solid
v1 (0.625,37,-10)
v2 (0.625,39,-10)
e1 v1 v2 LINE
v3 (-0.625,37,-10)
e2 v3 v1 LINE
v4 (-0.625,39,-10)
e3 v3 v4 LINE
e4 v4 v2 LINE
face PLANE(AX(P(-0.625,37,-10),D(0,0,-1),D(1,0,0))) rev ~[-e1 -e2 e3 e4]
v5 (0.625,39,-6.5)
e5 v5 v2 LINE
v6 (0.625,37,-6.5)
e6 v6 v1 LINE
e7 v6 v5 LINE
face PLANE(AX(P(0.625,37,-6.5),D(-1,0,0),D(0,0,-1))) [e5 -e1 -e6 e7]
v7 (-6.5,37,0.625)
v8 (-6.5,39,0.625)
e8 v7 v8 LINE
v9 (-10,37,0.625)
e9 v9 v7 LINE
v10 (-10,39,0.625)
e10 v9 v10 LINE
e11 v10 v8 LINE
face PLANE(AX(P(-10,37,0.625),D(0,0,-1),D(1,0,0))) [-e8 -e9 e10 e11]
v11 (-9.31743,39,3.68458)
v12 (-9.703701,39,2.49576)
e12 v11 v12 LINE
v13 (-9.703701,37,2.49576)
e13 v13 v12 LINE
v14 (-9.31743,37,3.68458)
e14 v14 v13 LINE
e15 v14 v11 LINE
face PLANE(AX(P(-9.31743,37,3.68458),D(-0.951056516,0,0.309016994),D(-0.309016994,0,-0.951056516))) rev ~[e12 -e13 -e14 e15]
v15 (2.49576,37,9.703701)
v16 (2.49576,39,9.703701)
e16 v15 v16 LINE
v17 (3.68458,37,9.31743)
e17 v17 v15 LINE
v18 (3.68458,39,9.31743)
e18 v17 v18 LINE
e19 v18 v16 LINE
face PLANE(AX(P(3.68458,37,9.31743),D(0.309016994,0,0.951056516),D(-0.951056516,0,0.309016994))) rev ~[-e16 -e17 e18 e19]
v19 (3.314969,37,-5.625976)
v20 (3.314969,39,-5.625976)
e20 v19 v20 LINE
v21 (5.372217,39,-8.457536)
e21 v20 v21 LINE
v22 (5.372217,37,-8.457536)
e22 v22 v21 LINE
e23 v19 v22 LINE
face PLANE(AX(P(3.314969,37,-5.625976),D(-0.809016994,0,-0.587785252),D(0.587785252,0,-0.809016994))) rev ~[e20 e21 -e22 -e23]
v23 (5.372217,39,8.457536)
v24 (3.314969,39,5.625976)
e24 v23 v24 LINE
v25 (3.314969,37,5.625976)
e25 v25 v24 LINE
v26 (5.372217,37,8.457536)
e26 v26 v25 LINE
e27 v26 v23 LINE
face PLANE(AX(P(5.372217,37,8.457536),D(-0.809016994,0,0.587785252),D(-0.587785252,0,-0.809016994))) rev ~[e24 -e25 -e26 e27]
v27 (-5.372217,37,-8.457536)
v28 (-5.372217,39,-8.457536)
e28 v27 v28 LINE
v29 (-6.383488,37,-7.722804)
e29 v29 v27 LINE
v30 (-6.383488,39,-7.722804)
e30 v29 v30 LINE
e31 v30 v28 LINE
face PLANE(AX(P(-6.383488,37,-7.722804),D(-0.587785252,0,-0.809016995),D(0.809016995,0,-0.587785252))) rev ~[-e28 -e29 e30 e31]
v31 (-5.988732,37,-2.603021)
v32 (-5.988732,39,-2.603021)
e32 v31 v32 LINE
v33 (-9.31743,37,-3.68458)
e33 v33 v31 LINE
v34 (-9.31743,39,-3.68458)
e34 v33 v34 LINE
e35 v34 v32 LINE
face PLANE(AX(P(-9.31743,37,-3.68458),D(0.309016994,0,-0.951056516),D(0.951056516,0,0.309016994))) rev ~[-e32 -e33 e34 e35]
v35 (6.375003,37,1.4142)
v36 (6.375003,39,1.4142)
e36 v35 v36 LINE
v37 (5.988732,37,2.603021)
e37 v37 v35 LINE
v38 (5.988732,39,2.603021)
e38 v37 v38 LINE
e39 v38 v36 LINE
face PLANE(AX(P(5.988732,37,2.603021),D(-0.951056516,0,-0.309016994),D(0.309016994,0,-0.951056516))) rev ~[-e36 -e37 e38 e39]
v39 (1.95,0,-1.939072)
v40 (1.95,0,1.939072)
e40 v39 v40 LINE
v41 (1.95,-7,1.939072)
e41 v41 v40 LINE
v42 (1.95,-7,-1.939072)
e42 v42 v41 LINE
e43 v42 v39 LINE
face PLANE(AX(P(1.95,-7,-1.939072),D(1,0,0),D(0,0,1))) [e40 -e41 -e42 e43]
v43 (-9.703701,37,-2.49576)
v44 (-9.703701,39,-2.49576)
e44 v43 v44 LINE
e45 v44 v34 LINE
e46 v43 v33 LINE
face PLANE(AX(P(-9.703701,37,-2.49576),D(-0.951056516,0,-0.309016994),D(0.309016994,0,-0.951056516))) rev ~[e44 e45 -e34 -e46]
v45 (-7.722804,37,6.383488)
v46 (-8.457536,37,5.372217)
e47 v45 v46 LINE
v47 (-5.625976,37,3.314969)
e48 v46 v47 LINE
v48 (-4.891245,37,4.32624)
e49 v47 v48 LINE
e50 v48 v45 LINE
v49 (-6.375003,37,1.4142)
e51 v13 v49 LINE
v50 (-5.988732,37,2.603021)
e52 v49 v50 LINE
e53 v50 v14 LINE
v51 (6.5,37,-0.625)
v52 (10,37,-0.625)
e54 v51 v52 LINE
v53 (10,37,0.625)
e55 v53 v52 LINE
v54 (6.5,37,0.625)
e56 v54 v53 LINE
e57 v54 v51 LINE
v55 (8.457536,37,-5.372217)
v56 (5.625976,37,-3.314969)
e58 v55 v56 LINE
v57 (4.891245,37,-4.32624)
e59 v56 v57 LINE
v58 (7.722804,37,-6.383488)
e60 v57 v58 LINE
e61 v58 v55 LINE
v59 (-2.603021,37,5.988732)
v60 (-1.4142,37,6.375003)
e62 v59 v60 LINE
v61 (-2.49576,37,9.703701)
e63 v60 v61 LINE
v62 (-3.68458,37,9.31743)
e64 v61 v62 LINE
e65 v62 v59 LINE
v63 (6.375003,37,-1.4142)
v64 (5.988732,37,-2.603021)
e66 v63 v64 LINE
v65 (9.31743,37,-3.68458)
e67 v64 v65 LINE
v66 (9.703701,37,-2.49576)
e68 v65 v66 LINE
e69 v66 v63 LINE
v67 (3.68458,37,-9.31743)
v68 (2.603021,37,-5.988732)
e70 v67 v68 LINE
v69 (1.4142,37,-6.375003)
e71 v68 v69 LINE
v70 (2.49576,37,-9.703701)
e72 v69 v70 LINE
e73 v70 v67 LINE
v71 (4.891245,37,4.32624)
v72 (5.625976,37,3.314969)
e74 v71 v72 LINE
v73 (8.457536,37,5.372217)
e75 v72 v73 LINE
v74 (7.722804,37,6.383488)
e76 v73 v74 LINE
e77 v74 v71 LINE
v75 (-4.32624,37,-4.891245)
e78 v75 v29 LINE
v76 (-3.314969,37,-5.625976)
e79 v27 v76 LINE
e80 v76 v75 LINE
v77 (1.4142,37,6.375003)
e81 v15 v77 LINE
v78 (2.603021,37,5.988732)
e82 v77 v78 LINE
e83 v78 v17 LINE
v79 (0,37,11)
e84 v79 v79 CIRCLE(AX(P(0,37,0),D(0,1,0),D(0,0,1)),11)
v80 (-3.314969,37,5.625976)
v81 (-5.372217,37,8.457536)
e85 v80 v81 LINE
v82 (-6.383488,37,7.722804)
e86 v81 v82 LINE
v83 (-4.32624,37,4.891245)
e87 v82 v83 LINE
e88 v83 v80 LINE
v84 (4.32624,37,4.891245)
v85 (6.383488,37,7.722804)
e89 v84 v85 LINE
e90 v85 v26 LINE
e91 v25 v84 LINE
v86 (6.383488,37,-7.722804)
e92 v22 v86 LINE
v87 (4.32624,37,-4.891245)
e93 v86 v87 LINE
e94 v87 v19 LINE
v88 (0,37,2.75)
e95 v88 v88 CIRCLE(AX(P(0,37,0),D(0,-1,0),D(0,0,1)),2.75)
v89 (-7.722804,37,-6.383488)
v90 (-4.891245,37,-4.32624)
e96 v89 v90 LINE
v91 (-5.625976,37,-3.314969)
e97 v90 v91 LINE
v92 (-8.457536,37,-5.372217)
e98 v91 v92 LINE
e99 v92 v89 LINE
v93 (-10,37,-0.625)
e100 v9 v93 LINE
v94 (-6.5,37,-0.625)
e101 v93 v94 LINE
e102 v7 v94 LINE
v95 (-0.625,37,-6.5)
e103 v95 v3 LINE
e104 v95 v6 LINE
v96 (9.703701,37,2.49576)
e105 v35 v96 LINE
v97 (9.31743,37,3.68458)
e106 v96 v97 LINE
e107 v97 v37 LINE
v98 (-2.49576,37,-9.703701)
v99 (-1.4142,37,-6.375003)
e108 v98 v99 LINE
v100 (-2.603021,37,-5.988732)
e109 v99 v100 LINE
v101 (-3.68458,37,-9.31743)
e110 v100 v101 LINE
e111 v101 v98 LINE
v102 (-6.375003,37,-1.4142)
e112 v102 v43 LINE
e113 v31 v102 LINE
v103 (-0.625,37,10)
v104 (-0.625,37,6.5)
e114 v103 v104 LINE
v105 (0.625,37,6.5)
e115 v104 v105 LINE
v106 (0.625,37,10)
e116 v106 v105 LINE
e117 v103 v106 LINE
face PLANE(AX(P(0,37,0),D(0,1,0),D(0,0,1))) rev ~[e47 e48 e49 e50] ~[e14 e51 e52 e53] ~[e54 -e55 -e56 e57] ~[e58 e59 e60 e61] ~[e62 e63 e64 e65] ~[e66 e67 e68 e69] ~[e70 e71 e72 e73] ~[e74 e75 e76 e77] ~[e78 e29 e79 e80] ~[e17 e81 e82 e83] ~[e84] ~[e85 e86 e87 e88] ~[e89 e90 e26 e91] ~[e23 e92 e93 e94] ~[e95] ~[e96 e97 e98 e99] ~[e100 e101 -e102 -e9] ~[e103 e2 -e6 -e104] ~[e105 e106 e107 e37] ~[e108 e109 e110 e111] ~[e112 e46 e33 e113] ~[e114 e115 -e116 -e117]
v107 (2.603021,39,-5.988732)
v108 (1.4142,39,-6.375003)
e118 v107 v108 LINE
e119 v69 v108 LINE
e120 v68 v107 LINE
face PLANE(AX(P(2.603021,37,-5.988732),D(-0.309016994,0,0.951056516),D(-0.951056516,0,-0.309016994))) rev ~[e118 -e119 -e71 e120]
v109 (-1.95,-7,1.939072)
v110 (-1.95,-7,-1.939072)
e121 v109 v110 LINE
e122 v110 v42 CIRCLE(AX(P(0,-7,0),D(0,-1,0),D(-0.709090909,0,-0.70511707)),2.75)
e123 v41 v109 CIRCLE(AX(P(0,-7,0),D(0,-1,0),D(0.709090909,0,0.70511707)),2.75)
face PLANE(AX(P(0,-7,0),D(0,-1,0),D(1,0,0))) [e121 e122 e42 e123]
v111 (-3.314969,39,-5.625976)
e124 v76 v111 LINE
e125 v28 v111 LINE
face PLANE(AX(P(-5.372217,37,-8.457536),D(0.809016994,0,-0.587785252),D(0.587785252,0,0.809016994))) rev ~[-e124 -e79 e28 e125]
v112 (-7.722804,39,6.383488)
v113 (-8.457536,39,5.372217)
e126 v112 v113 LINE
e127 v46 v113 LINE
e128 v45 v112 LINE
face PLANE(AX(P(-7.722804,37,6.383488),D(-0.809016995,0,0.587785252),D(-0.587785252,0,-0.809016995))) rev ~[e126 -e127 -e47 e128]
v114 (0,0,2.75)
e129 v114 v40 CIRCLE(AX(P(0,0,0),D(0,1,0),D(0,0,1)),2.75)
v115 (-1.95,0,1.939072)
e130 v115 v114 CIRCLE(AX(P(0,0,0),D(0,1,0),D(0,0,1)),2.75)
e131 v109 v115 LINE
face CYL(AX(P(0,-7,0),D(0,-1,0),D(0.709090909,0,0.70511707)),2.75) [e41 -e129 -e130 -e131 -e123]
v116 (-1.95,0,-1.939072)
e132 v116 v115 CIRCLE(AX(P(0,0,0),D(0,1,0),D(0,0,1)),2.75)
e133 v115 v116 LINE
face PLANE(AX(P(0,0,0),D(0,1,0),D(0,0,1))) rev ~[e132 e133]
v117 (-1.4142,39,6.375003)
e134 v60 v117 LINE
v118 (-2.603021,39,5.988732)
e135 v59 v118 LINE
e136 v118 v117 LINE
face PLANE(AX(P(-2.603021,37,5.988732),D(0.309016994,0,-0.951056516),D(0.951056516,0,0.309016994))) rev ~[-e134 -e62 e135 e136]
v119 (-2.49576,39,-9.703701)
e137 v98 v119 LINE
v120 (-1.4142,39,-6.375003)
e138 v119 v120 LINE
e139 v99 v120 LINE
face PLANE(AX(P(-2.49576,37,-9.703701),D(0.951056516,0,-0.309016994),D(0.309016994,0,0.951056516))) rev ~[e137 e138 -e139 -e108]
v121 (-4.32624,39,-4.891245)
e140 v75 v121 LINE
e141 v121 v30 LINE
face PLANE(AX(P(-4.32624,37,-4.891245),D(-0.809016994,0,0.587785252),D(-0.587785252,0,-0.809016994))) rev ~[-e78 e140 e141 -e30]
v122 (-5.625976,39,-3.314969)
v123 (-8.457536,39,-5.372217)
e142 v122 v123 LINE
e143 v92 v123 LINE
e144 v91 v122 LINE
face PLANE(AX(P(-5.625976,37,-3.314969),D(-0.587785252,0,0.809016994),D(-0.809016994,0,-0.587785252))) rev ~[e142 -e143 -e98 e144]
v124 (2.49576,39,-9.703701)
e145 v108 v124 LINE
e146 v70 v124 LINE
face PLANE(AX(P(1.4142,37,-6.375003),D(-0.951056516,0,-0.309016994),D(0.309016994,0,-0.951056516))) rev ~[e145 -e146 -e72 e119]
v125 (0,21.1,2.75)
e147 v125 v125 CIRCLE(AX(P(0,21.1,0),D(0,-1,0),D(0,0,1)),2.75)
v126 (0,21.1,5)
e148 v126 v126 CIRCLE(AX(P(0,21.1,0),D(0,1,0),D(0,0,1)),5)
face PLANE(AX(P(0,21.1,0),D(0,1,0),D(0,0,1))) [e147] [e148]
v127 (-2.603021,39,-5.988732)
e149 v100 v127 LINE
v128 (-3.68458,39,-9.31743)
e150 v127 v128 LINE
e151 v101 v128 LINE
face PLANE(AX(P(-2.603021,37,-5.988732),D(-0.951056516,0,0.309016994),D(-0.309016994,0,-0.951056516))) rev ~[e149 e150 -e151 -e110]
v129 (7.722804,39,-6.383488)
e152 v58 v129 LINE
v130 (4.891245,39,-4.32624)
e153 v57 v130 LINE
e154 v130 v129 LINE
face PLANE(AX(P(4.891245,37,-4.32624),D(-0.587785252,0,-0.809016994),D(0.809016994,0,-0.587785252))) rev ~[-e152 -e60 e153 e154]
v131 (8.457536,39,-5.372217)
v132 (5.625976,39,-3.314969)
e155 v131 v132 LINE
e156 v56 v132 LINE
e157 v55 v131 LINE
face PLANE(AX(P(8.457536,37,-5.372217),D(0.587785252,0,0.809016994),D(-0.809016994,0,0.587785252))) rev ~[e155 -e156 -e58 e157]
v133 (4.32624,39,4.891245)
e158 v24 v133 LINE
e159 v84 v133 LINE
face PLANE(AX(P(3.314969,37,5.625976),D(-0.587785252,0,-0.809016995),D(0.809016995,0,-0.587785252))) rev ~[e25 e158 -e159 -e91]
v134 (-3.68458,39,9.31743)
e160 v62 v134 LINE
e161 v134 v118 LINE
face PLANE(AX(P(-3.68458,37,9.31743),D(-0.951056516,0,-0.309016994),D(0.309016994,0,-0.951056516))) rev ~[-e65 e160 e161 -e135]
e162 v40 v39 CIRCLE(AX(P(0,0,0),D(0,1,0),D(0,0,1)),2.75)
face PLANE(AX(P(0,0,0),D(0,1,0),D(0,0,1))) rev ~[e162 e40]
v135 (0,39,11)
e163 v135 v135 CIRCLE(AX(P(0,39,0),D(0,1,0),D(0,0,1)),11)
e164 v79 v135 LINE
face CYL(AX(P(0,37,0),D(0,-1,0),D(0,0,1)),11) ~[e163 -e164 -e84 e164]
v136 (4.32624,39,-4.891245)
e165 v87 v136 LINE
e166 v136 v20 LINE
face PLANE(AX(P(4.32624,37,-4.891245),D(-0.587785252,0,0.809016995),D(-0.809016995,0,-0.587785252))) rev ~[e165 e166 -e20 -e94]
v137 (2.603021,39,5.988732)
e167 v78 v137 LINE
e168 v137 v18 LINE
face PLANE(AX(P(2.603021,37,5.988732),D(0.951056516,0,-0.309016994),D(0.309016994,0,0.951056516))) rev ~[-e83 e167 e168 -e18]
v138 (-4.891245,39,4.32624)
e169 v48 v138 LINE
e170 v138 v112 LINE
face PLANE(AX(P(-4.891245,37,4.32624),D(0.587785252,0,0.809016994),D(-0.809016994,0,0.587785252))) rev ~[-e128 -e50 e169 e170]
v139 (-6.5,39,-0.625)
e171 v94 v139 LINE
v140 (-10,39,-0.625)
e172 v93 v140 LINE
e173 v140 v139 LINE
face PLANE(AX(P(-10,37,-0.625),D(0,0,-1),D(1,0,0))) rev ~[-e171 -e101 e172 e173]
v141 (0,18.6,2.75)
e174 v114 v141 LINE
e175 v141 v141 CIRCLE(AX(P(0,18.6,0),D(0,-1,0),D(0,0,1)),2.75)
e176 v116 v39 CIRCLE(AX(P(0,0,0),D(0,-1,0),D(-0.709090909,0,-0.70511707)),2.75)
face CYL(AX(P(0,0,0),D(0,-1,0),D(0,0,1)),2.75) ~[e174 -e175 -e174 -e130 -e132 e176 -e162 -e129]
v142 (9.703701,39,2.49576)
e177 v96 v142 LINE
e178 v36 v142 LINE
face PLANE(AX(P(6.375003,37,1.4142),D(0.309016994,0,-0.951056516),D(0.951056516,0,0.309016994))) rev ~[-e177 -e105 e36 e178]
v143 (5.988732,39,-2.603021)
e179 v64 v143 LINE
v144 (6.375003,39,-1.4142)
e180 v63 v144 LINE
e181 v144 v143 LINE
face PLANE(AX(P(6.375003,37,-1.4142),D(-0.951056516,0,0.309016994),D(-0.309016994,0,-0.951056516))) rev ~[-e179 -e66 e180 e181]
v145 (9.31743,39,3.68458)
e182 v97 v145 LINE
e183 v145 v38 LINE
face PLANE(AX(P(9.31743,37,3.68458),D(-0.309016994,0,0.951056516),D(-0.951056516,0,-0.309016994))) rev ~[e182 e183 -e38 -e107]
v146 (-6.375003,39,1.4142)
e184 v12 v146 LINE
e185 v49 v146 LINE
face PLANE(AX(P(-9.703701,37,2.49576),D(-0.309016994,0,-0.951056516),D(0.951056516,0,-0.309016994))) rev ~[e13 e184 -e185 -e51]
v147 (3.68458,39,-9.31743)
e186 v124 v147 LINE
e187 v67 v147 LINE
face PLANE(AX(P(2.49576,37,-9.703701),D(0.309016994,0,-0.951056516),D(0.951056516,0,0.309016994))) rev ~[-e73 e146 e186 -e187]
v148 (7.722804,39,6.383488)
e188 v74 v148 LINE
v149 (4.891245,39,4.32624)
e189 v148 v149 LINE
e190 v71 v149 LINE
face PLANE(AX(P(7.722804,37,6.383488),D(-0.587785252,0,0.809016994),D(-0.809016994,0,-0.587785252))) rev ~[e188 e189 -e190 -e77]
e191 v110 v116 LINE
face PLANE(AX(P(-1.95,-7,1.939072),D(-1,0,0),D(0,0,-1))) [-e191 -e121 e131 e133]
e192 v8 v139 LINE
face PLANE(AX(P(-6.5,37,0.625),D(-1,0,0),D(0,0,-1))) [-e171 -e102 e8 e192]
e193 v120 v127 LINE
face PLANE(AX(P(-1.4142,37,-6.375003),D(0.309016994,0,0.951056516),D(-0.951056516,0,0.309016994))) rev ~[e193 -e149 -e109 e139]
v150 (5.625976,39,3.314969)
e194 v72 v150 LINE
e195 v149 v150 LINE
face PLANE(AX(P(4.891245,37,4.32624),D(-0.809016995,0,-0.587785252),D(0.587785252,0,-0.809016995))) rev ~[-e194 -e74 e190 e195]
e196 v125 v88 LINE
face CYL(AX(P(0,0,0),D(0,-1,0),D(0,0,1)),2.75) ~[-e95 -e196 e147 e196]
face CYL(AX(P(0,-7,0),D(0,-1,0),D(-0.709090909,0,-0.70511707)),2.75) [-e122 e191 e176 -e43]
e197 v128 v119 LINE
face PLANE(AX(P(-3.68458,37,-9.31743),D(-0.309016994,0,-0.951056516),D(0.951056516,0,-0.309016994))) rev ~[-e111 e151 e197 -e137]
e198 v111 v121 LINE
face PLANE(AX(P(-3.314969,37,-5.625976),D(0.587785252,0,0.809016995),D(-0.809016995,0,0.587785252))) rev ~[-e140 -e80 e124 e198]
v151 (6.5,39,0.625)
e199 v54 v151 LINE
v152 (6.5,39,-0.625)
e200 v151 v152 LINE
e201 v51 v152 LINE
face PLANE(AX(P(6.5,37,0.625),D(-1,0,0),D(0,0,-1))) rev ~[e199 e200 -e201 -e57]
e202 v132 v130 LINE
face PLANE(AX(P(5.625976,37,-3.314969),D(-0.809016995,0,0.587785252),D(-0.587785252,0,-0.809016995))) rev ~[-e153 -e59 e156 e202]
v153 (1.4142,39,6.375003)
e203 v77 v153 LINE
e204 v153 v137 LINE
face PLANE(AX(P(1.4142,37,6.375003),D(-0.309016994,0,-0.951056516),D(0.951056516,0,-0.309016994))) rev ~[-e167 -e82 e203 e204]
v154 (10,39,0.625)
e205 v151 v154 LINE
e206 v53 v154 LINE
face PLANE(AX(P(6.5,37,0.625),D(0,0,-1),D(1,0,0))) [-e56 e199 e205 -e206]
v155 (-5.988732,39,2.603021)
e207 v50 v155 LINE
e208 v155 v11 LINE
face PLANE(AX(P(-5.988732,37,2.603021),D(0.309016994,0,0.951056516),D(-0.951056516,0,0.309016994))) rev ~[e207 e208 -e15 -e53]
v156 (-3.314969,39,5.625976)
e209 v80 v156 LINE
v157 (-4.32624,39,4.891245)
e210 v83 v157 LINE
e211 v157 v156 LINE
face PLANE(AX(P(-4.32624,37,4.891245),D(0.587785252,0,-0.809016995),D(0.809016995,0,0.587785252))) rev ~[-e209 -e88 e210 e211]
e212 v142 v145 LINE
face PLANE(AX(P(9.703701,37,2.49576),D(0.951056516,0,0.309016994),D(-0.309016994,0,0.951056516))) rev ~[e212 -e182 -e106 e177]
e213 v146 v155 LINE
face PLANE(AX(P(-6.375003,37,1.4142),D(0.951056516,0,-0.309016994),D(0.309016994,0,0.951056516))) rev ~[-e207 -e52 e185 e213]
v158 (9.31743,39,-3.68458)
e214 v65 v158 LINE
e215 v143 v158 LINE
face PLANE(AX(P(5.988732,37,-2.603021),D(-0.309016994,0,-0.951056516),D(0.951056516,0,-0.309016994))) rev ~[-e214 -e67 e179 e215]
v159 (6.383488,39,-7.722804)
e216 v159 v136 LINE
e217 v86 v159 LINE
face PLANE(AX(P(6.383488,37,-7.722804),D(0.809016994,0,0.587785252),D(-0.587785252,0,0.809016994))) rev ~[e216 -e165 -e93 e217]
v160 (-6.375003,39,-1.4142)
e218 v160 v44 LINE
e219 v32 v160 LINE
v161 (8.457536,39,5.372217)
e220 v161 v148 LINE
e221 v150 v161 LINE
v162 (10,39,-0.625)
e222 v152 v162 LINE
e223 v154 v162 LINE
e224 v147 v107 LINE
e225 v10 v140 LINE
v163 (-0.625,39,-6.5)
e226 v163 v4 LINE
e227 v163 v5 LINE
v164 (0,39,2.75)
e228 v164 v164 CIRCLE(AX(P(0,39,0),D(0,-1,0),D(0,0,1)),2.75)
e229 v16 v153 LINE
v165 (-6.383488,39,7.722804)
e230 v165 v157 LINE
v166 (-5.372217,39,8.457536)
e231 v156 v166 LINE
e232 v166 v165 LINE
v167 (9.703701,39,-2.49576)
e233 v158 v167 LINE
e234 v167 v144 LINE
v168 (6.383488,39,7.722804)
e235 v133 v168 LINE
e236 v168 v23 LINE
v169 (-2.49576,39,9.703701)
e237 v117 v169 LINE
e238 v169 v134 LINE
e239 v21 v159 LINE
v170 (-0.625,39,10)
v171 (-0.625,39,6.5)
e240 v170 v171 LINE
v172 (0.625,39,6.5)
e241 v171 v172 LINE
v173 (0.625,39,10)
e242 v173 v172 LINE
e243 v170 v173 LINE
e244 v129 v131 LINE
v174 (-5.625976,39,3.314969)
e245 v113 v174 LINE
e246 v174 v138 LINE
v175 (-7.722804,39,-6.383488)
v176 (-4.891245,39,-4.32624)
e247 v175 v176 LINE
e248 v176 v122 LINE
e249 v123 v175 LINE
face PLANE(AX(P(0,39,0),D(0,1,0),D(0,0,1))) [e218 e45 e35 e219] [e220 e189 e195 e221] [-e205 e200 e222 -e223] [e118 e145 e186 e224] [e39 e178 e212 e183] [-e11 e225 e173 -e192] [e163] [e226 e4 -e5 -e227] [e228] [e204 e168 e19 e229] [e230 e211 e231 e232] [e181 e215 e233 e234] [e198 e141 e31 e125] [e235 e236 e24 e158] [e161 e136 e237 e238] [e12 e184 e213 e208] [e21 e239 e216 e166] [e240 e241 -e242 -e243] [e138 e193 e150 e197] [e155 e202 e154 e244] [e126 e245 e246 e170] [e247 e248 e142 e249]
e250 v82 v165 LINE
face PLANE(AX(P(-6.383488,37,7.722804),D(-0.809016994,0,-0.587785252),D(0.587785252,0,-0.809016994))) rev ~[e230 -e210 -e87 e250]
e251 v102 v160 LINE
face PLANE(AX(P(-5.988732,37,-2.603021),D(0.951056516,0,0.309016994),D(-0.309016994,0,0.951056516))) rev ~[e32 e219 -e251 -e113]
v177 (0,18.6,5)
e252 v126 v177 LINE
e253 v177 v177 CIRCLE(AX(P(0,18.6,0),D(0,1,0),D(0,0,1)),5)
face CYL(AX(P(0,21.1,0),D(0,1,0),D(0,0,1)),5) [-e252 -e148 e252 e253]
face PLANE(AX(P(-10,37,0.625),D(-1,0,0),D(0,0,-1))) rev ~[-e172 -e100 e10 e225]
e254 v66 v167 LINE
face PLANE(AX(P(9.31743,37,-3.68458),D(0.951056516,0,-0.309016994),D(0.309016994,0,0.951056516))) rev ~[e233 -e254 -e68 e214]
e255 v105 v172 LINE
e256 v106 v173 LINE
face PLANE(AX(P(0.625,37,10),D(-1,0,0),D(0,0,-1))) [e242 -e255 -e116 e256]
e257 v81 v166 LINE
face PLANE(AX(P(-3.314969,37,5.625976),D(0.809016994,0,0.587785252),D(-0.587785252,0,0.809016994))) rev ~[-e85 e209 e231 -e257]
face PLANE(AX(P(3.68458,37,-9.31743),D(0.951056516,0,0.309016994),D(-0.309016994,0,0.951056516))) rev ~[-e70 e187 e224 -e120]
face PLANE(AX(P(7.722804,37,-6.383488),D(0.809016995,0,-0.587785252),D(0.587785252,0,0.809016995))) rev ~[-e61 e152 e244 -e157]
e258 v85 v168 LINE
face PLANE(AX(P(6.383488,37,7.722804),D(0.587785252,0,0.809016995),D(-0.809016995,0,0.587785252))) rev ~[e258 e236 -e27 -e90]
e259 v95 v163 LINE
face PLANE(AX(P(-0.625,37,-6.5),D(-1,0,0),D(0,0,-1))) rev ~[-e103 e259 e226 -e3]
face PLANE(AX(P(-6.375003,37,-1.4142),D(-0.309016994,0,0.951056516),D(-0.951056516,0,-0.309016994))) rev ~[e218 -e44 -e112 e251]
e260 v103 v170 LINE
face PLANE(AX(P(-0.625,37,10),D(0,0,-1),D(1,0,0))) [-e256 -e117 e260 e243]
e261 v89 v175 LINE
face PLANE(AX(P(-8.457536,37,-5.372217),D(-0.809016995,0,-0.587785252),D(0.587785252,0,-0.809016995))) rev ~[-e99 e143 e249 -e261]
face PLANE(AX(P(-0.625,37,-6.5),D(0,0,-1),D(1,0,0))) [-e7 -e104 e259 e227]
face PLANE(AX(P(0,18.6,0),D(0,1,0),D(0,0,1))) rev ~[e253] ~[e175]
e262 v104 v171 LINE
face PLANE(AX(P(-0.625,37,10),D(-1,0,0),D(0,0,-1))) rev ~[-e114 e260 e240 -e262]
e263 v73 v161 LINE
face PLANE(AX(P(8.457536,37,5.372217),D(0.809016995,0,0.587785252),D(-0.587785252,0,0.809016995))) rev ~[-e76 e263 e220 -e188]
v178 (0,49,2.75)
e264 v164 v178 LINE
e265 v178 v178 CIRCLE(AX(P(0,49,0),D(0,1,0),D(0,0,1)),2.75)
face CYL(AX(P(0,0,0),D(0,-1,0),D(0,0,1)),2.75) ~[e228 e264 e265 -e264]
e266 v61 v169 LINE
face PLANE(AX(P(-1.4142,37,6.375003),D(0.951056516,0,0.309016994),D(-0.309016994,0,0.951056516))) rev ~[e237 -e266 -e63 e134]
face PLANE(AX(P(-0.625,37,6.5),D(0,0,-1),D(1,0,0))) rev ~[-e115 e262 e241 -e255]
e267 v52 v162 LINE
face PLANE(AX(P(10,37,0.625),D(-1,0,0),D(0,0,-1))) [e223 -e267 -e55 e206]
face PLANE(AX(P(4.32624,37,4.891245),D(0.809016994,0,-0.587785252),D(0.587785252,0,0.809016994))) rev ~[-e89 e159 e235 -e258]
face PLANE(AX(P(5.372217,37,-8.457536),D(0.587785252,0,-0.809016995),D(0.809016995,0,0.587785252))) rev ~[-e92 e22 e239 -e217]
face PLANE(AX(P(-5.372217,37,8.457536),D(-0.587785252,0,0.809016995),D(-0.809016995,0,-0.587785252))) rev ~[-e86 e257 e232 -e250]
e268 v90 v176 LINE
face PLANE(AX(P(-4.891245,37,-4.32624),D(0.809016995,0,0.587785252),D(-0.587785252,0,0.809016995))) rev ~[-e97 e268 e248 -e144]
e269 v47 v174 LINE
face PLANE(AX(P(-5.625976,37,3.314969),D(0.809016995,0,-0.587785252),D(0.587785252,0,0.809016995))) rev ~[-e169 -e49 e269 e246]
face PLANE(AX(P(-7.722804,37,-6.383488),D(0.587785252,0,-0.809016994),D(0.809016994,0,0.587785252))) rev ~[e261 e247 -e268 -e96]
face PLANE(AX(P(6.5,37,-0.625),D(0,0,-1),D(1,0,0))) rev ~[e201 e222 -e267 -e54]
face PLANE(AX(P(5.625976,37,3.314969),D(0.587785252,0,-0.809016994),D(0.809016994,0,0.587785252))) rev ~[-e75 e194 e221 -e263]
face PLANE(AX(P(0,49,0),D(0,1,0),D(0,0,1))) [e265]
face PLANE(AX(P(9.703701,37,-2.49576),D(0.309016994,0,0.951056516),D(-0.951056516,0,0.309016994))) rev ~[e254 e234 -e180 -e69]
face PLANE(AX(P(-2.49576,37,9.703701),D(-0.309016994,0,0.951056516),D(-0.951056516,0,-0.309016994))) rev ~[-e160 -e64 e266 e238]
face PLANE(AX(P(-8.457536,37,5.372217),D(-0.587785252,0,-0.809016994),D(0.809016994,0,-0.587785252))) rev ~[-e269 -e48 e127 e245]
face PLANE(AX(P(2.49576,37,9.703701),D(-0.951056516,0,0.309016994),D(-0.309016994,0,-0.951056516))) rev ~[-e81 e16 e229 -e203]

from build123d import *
from build123d.topology import SkipClean

# Parameters (mm, degrees)
SKETCH_1_R      = 2.75
EXTRUDE_1_DEPTH = 49
EXTRUDE_START   = 7
EXTRUDE_2_DEPTH = 7
EXTRUDE_START_2 = -12
SKETCH_6_R      = 11
SKETCH_6_W      = 1.25
SKETCH_6_H      = 3.5
SKETCH_6_W_2    = 3.5
SKETCH_6_H_2    = 1.25
EXTRUDE_4_DEPTH = 2
EXTRUDE_START_3 = -27.9
SKETCH_7_R      = 5
EXTRUDE_5_DEPTH = 2.5


with BuildPart() as part:
    # 草图1 → 凸台-拉伸1 (new body)
    with BuildSketch(Plane(origin=(0, 0, 0), x_dir=(1, 0, 0), z_dir=(0, 1, 0))):
        Circle(SKETCH_1_R)
    extrude(amount=EXTRUDE_1_DEPTH)

    # 草图2 → 凸台-拉伸2 (add)
    with SkipClean():  # the faces are left unmerged after this step: merging them gives an invalid solid
        with BuildSketch(Plane.XZ.offset(EXTRUDE_START)):
            with BuildLine():
                Line((-1.95, 1.939071943), (-1.95, -1.939071943))
                ThreePointArc((-1.95, -1.939071943), (0, -2.75), (1.95, -1.939071943))
                Line((1.95, -1.939071943), (1.95, 1.939071943))
                ThreePointArc((1.95, 1.939071943), (0, 2.75), (-1.95, 1.939071943))
            make_face()
        extrude(amount=-EXTRUDE_2_DEPTH)

    # 草图6 → 凸台-拉伸4 (add)
    with SkipClean():  # the faces are left unmerged after this step: merging them gives an invalid solid
        with BuildSketch(Plane(origin=(0, 49, 0), x_dir=(1, 0, 0), z_dir=(0, 1, 0)).offset(EXTRUDE_START_2)):
            Circle(SKETCH_6_R)
            Polygon((2.495759621, 9.703700784), (3.684580266, 9.317429541), (2.603020786, 5.988731734), (1.414200141, 6.375002977), align=None, mode=Mode.SUBTRACT)
            with Locations((0, 8.25)):
                Rectangle(SKETCH_6_W, SKETCH_6_H, mode=Mode.SUBTRACT)
            Polygon((5.372216901, 8.457535726), (6.383488144, 7.722804161), (4.326239761, 4.891244681), (3.314968518, 5.625976246), align=None, mode=Mode.SUBTRACT)
            Polygon((7.722804161, 6.383488144), (8.457535726, 5.372216901), (5.625976246, 3.314968518), (4.891244681, 4.326239761), align=None, mode=Mode.SUBTRACT)
            Polygon((9.317429541, 3.684580266), (9.703700784, 2.495759621), (6.375002977, 1.414200141), (5.988731734, 2.603020786), align=None, mode=Mode.SUBTRACT)
            with Locations((8.25, 0)):
                Rectangle(SKETCH_6_W_2, SKETCH_6_H_2, mode=Mode.SUBTRACT)
            Polygon((9.703700784, -2.495759621), (9.317429541, -3.684580266), (5.988731734, -2.603020786), (6.375002977, -1.414200141), align=None, mode=Mode.SUBTRACT)
            Polygon((8.457535726, -5.372216901), (7.722804161, -6.383488144), (4.891244681, -4.326239761), (5.625976246, -3.314968518), align=None, mode=Mode.SUBTRACT)
            Polygon((6.383488144, -7.722804161), (5.372216901, -8.457535726), (3.314968518, -5.625976246), (4.326239761, -4.891244681), align=None, mode=Mode.SUBTRACT)
            Polygon((3.684580266, -9.317429541), (2.495759621, -9.703700784), (1.414200141, -6.375002977), (2.603020786, -5.988731734), align=None, mode=Mode.SUBTRACT)
            with Locations((0, -8.25)):
                Rectangle(SKETCH_6_W, SKETCH_6_H, mode=Mode.SUBTRACT)
            Polygon((-2.495759621, -9.703700784), (-3.684580266, -9.317429541), (-2.603020786, -5.988731734), (-1.414200141, -6.375002977), align=None, mode=Mode.SUBTRACT)
            Polygon((-5.372216901, -8.457535726), (-6.383488144, -7.722804161), (-4.326239761, -4.891244681), (-3.314968518, -5.625976246), align=None, mode=Mode.SUBTRACT)
            Polygon((-7.722804161, -6.383488144), (-8.457535726, -5.372216901), (-5.625976246, -3.314968518), (-4.891244681, -4.326239761), align=None, mode=Mode.SUBTRACT)
            Polygon((-9.317429541, -3.684580266), (-9.703700784, -2.495759621), (-6.375002977, -1.414200141), (-5.988731734, -2.603020786), align=None, mode=Mode.SUBTRACT)
            with Locations((-8.25, 0)):
                Rectangle(SKETCH_6_W_2, SKETCH_6_H_2, mode=Mode.SUBTRACT)
            Polygon((-9.703700784, 2.495759621), (-9.317429541, 3.684580266), (-5.988731734, 2.603020786), (-6.375002977, 1.414200141), align=None, mode=Mode.SUBTRACT)
            Polygon((-8.457535726, 5.372216901), (-7.722804161, 6.383488144), (-4.891244681, 4.326239761), (-5.625976246, 3.314968518), align=None, mode=Mode.SUBTRACT)
            Polygon((-6.383488144, 7.722804161), (-5.372216901, 8.457535726), (-3.314968518, 5.625976246), (-4.326239761, 4.891244681), align=None, mode=Mode.SUBTRACT)
            Polygon((-3.684580266, 9.317429541), (-2.495759621, 9.703700784), (-1.414200141, 6.375002977), (-2.603020786, 5.988731734), align=None, mode=Mode.SUBTRACT)
        extrude(amount=EXTRUDE_4_DEPTH)

    # 草图7 → 凸台-拉伸5 (add)
    with SkipClean():  # the faces are left unmerged after this step: merging them gives an invalid solid
        with BuildSketch(Plane(origin=(0, 49, 0), x_dir=(1, 0, 0), z_dir=(0, 1, 0)).offset(EXTRUDE_START_3)):
            Circle(SKETCH_7_R)
        extrude(amount=-EXTRUDE_5_DEPTH)


solid = part.part
